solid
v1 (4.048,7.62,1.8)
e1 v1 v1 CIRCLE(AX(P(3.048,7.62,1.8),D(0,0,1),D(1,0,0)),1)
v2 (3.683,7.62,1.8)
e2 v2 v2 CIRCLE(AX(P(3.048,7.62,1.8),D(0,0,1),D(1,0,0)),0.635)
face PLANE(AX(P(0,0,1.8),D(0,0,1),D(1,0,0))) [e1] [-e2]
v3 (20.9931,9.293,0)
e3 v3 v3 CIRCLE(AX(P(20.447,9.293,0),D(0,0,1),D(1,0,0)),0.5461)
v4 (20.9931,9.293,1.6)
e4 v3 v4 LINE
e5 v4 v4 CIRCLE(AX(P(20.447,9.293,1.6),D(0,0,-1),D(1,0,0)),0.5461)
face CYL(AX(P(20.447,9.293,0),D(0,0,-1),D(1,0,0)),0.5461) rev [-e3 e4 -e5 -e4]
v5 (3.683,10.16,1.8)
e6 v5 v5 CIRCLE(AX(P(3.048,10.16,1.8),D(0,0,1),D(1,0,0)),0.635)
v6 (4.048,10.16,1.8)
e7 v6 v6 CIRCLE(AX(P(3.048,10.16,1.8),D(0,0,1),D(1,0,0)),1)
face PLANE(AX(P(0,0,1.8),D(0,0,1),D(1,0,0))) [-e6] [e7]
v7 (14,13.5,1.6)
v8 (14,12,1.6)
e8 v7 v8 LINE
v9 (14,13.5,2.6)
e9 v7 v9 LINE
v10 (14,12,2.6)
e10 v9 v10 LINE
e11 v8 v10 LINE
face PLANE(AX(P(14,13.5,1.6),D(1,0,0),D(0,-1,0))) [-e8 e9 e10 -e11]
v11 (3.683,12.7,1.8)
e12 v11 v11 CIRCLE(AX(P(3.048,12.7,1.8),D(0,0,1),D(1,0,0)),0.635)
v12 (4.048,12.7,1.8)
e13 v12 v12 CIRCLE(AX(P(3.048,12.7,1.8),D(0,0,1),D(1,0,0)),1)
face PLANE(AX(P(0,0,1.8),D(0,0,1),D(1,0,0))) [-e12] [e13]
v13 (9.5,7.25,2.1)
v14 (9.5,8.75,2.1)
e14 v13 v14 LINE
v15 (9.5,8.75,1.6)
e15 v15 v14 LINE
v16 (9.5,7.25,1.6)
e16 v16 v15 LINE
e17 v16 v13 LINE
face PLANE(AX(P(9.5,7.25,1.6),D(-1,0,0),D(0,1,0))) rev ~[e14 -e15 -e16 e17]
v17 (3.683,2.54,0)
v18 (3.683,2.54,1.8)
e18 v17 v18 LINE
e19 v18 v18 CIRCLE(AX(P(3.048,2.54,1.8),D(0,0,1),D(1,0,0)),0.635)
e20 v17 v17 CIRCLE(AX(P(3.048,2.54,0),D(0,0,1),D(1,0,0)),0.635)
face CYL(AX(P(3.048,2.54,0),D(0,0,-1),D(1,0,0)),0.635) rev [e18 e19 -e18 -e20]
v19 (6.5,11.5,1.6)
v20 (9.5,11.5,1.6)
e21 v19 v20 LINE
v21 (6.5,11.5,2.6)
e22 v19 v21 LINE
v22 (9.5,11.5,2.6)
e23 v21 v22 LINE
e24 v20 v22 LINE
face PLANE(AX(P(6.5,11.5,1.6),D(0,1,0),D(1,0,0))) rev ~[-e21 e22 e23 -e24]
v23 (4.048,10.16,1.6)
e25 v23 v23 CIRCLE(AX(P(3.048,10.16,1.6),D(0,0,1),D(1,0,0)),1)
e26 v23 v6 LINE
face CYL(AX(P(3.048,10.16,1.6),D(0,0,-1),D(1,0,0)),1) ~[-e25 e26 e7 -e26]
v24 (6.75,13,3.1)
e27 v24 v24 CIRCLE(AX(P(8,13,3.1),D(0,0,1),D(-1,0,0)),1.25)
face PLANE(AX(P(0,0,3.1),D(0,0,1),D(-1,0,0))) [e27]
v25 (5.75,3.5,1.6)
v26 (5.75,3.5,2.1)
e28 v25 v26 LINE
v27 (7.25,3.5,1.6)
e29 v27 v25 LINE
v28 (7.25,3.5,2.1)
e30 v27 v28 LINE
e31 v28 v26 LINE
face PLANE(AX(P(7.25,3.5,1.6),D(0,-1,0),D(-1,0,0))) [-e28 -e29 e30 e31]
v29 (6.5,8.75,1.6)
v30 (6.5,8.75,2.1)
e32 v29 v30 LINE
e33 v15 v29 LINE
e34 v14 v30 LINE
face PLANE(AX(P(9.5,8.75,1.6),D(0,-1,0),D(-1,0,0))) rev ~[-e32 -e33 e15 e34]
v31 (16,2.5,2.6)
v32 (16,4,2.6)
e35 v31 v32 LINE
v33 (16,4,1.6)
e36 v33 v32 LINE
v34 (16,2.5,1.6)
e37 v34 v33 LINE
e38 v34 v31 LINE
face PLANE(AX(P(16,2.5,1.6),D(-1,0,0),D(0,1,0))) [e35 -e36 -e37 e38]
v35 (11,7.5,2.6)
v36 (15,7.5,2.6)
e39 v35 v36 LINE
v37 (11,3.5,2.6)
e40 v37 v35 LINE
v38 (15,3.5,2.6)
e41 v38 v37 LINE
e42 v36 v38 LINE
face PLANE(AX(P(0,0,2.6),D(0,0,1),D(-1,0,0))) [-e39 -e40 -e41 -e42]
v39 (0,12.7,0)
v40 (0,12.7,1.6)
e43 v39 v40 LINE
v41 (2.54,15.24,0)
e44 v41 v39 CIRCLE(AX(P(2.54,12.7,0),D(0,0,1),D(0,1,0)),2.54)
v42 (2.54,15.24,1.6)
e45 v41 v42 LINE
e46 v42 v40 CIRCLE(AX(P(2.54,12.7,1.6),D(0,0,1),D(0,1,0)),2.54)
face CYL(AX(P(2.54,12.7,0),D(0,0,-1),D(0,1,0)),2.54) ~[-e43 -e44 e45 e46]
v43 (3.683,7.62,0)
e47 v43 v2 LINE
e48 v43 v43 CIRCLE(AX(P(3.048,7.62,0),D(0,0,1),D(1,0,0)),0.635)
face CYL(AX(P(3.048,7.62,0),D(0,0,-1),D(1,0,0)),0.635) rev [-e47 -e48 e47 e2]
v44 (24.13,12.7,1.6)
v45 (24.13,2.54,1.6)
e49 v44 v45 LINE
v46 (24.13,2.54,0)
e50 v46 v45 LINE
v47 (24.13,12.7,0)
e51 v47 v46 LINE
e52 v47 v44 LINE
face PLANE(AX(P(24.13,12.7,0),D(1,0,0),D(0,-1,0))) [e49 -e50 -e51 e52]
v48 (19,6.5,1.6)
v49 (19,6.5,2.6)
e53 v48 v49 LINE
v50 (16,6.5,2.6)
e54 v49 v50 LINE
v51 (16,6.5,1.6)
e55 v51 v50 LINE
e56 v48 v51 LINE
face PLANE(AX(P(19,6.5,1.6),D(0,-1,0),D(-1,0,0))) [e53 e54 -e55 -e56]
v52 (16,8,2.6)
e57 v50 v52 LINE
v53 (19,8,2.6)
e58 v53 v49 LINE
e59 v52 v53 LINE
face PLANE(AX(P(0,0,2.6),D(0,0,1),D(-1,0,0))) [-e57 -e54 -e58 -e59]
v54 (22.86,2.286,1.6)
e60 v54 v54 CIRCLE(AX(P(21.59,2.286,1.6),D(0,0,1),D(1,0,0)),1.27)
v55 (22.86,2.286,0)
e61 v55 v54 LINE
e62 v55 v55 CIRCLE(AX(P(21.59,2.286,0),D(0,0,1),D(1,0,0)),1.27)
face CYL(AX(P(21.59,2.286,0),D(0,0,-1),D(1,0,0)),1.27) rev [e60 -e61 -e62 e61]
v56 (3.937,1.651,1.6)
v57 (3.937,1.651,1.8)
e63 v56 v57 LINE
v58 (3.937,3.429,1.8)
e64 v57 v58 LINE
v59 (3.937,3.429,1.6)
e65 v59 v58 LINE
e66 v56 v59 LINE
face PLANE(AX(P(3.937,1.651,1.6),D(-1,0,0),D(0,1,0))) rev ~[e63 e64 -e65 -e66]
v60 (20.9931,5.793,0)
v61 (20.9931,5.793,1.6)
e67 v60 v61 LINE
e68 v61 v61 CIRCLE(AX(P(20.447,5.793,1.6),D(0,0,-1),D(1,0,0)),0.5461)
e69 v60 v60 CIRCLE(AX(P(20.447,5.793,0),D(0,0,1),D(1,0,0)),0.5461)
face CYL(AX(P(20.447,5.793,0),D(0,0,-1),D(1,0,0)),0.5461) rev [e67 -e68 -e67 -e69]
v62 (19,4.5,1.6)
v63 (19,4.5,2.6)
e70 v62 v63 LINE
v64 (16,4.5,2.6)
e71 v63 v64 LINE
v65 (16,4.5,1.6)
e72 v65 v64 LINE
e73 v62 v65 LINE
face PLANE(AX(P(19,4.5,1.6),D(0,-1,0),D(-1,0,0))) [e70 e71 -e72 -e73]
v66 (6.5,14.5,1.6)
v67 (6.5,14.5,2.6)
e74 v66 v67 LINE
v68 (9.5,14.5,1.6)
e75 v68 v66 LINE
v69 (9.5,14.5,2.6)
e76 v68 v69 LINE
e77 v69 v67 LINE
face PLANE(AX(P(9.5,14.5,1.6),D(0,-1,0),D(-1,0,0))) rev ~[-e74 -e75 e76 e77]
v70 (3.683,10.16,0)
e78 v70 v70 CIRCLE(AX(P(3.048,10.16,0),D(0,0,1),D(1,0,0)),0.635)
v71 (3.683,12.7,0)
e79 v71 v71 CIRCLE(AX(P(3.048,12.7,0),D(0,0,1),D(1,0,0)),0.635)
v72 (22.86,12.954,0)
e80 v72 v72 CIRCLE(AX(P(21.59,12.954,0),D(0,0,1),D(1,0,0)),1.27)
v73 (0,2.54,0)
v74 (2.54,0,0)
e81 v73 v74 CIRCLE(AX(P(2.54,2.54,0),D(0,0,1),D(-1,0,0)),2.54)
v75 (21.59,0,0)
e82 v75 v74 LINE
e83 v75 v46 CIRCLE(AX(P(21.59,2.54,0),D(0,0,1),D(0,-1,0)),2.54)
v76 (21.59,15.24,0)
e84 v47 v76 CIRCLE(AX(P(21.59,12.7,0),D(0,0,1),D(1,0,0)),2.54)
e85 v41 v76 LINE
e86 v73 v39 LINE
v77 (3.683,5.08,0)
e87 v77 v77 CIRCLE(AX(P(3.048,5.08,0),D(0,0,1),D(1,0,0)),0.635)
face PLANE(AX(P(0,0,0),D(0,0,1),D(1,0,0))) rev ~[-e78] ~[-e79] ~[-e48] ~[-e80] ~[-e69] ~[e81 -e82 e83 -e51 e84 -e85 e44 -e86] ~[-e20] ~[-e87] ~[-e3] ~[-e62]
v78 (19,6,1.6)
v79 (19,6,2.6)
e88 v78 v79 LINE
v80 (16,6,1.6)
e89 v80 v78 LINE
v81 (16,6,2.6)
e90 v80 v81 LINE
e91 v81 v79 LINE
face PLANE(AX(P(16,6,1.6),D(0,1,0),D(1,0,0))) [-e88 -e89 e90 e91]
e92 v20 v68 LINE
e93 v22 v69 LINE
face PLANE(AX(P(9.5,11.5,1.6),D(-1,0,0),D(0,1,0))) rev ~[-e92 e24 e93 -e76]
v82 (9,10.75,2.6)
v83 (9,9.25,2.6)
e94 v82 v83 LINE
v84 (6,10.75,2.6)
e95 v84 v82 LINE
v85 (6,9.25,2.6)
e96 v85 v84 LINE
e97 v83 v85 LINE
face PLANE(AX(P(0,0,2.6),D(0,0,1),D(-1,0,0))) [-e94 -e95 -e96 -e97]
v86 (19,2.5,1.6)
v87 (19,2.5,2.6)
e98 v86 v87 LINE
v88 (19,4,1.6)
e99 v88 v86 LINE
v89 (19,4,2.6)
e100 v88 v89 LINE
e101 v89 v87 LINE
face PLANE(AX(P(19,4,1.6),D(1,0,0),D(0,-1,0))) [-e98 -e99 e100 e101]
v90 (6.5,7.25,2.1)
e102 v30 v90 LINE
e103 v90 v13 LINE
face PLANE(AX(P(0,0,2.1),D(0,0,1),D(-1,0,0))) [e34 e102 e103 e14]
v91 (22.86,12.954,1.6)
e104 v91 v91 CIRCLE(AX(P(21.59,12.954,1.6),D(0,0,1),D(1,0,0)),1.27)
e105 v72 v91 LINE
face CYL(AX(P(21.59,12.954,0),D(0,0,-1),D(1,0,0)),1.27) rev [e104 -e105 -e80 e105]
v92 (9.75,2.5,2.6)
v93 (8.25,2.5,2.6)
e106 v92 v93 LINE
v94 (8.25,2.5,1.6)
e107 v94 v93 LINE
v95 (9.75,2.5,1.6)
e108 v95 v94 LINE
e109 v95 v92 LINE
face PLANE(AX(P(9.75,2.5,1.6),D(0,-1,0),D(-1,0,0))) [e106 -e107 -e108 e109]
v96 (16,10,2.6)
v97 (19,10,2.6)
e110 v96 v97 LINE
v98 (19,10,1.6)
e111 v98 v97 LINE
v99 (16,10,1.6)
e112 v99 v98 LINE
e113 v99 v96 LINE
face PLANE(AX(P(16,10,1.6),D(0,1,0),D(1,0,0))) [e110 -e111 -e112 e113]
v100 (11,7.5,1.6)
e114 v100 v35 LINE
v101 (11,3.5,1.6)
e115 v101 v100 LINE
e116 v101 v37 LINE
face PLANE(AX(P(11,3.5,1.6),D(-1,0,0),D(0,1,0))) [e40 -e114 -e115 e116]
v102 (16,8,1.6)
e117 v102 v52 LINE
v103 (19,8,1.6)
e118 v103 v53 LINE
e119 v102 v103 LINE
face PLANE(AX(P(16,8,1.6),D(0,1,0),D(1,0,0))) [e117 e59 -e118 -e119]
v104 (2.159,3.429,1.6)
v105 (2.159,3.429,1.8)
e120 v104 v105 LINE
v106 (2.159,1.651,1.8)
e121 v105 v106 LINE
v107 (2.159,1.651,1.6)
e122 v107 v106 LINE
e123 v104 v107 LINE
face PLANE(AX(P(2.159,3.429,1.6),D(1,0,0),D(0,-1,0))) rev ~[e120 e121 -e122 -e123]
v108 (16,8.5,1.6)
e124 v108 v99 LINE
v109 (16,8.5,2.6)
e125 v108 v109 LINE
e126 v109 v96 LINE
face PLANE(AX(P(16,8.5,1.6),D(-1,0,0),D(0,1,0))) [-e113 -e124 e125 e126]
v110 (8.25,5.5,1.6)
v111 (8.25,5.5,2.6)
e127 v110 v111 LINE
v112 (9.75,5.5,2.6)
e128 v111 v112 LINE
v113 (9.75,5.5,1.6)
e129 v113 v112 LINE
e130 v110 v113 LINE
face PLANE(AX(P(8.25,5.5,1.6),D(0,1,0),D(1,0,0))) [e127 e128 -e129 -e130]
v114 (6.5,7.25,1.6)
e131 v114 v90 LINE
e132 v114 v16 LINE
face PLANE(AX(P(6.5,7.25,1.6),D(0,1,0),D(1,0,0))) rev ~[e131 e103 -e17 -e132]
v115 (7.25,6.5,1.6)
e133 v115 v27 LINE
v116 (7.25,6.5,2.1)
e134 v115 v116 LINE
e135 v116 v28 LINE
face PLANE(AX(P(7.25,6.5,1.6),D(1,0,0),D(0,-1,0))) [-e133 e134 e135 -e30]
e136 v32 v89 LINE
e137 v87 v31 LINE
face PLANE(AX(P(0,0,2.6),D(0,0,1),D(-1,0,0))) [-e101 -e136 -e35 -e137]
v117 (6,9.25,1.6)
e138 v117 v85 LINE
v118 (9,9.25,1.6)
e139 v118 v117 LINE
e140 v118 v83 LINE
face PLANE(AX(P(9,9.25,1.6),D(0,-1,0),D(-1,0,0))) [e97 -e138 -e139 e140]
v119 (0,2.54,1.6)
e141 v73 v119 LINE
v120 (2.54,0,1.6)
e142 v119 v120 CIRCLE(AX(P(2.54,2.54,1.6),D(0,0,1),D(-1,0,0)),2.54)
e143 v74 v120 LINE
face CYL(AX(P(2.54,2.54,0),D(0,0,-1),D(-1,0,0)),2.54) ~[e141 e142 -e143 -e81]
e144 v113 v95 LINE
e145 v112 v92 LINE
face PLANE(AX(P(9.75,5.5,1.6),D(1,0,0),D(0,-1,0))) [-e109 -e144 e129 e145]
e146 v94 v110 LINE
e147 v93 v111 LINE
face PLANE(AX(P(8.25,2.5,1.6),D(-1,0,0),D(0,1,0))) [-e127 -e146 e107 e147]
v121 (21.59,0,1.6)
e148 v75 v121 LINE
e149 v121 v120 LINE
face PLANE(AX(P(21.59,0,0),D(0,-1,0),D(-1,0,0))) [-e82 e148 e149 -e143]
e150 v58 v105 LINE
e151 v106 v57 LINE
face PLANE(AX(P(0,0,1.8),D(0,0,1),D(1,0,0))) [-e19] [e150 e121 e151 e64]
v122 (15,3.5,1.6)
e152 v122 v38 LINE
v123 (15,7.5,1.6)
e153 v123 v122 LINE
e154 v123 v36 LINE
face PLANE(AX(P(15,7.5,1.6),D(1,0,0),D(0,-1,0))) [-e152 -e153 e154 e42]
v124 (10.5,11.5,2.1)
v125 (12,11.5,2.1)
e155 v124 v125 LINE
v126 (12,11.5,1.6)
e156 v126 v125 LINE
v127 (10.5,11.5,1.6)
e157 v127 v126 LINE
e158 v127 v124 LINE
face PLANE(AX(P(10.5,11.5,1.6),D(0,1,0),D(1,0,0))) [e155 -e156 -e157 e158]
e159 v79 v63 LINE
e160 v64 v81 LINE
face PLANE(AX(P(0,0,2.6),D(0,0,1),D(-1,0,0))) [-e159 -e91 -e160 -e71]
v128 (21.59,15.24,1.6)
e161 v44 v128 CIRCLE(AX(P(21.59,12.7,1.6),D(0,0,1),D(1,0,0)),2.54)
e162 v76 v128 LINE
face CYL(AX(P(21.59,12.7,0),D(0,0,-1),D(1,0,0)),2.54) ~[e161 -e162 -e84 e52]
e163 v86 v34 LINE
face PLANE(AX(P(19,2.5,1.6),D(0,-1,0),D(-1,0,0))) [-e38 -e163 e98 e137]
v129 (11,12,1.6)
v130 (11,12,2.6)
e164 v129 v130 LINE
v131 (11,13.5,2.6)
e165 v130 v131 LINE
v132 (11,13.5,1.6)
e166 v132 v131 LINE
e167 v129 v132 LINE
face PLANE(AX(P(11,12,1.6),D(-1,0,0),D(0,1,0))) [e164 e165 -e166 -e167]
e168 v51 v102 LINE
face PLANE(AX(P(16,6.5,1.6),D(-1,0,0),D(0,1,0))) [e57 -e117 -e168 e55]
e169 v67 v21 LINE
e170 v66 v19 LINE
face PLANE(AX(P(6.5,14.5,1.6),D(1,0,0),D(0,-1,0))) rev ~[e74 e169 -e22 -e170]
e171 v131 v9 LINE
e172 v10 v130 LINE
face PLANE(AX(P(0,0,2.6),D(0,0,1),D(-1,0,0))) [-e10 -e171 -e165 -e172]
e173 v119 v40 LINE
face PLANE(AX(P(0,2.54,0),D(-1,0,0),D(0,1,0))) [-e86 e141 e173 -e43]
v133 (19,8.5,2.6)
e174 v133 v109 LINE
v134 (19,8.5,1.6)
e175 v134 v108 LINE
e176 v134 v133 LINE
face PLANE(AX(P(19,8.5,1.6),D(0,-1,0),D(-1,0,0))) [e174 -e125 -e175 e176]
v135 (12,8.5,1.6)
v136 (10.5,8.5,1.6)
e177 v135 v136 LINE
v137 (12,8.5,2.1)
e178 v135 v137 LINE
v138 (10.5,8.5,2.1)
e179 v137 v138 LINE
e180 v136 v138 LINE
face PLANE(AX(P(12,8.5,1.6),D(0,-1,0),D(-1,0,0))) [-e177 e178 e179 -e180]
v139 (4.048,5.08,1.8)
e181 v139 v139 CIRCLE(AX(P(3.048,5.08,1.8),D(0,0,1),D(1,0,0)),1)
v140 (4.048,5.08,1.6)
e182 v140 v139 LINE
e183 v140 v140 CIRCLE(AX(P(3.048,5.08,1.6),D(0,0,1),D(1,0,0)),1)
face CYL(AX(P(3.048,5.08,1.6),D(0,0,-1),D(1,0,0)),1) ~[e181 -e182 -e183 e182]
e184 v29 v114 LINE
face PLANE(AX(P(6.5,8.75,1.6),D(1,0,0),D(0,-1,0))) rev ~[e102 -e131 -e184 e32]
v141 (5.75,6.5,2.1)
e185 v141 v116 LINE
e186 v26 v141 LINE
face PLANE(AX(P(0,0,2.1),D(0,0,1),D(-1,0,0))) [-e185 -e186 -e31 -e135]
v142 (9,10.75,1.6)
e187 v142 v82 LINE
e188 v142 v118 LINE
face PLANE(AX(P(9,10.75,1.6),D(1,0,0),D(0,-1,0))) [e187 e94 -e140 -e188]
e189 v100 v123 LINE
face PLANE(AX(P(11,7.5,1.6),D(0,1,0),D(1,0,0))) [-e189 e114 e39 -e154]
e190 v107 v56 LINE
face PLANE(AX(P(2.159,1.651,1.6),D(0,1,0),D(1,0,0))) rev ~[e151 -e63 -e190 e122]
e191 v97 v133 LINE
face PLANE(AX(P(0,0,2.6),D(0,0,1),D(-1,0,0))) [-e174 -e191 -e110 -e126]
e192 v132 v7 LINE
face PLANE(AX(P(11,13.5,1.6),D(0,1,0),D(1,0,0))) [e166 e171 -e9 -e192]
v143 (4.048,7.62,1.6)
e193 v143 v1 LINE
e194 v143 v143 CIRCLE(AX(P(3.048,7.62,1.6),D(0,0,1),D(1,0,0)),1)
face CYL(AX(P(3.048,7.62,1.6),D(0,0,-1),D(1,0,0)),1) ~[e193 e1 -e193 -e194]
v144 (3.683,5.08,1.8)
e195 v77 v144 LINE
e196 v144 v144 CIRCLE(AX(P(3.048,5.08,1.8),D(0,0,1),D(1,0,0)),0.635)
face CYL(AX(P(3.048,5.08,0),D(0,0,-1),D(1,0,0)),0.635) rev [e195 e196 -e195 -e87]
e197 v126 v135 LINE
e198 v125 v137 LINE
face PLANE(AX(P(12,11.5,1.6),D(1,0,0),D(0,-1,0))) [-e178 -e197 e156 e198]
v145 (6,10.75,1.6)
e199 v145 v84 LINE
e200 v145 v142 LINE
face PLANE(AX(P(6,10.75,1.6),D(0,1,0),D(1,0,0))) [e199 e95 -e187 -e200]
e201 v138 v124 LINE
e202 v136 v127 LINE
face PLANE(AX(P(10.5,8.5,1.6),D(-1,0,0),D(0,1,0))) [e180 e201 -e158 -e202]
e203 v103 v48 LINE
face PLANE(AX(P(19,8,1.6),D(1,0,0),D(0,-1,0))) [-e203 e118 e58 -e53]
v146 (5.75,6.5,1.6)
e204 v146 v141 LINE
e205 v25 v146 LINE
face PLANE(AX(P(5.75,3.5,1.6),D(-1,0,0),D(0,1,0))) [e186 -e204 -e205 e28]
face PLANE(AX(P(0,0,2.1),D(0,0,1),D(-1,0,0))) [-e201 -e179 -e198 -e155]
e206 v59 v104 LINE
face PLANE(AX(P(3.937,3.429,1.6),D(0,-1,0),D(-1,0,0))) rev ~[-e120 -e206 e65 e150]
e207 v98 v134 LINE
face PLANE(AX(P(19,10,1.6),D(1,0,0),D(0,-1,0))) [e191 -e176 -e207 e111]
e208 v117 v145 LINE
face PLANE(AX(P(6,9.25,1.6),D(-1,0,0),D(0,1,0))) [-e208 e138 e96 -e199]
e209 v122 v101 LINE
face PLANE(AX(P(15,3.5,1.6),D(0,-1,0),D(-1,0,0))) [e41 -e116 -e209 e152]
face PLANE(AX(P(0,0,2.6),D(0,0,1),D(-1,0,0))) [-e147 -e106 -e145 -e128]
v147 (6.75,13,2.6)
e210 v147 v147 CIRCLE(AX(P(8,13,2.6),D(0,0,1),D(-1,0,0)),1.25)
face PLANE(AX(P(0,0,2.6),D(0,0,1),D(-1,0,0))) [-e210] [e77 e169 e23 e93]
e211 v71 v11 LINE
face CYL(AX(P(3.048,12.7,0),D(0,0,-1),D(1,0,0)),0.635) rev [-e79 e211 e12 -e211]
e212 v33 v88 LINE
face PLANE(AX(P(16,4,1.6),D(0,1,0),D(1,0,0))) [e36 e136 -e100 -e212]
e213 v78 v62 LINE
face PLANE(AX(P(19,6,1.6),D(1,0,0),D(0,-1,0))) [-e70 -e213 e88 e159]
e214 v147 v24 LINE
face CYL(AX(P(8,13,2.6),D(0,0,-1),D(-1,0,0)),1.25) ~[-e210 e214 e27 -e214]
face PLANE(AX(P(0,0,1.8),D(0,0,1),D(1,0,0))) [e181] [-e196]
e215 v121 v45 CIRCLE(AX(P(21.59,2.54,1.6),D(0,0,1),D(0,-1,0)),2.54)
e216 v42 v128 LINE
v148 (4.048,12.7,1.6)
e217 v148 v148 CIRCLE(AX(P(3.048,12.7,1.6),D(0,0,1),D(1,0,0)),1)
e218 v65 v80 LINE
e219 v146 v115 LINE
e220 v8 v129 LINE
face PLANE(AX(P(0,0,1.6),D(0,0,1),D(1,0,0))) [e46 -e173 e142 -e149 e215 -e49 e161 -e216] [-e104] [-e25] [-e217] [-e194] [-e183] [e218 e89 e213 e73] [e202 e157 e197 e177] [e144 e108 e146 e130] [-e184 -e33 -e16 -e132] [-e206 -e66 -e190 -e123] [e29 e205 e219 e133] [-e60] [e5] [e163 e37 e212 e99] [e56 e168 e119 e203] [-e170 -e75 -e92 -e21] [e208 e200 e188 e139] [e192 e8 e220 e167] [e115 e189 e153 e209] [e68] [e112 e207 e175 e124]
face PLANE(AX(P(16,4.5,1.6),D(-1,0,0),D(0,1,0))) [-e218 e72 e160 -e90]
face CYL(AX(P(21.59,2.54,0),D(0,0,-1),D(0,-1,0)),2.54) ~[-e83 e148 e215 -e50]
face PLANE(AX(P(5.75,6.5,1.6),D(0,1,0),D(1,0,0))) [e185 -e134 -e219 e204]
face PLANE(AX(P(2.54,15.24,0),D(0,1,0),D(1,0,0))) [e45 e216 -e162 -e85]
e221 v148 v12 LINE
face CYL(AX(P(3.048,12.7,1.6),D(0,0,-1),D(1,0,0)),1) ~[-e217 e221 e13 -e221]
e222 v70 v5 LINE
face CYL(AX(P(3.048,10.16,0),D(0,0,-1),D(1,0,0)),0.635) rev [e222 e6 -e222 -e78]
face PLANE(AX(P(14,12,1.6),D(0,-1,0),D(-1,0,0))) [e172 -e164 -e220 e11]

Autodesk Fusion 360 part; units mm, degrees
sketch "Sketch1" plane through (0, 0, 0) normal (0, 0, 1) x (1, 0, 0)
  arc A0 (21.59, 0) -> (24.13, 2.54) centre (21.59, 2.54) ccw
  arc A1 (0, 2.54) -> (2.54, 0) centre (2.54, 2.54) ccw
  line L0 (21.59, 0) -> (2.54, 0)
  arc A2 (2.54, 15.24) -> (0, 12.7) centre (2.54, 12.7) ccw
  line L1 (24.13, 12.7) -> (24.13, 2.54)
  line L2 (0, 2.54) -> (0, 12.7)
  line L3 (2.54, 15.24) -> (21.59, 15.24)
  arc A3 (24.13, 12.7) -> (21.59, 15.24) centre (21.59, 12.7) ccw
  arc A4 (20.9931, 9.293) -> (19.9009, 9.293) centre (20.447, 9.293) ccw
  line L4 (2.159, 1.651) -> (3.937, 1.651)
  line L5 (3.937, 1.651) -> (3.937, 3.429)
  line L6 (2.159, 1.651) -> (3.937, 1.651)
  line L7 (3.937, 1.651) -> (3.937, 3.429)
  line L8 (3.937, 3.429) -> (2.159, 3.429)
  arc A5 (20.9931, 5.793) -> (19.9009, 5.793) centre (20.447, 5.793) ccw
  arc A6 (19.9009, 9.293) -> (20.9931, 9.293) centre (20.447, 9.293) ccw
  arc A7 (19.9009, 9.293) -> (20.9931, 9.293) centre (20.447, 9.293) ccw
  line L9 (2.159, 3.429) -> (2.159, 1.651)
  line L10 (2.159, 3.429) -> (2.159, 1.651)
  arc A8 (20.9931, 9.293) -> (19.9009, 9.293) centre (20.447, 9.293) ccw
  arc A9 (19.9009, 5.793) -> (20.9931, 5.793) centre (20.447, 5.793) ccw
  arc A10 (20.9931, 5.793) -> (19.9009, 5.793) centre (20.447, 5.793) ccw
  line L11 (3.937, 3.429) -> (2.159, 3.429)
  arc A11 (19.9009, 5.793) -> (20.9931, 5.793) centre (20.447, 5.793) ccw
  circle A12 centre (21.59, 2.286) radius 1.27
  circle A13 centre (21.59, 12.954) radius 1.27
  circle A14 centre (3.048, 2.54) radius 0.635
  circle A15 centre (3.048, 5.08) radius 0.635
  circle A16 centre (3.048, 7.62) radius 0.635
  circle A17 centre (3.048, 10.16) radius 0.635
  circle A18 centre (3.048, 12.7) radius 0.635
  circle A19 centre (3.048, 5.08) radius 1
  circle A20 centre (3.048, 7.62) radius 1
  circle A21 centre (3.048, 10.16) radius 1
  circle A22 centre (3.048, 12.7) radius 1
  dimension "d1" = 2.54
  dimension "d2" = 2.54
  dimension "d5" = 1.27
  dimension "d8" = 0
  dimension "d9" = 2.54
  dimension "d10" = 2
  dimension "d13" = 0
  dimension "d14" = 2.54
extrude "Extrude1" add sketch "Sketch1" along normal blind 1.6 contours A0 A1 L0 A2 L1 L2 L3 A3 | L4 L5 L6 L7 L8 L9 L10 L11 | A19 | A20 | A21 | A22
extrude "Extrude2" add sketch "Sketch1" along normal blind 0.2 from surface at 1.6 contours L4 L5 L6 L7 L8 L9 L10 L11 | A19 | A20 | A21 | A22
sketch "Sketch2" plane through (0, 0, 1.6) normal (0, 0, 1) x (-1, 0, 0)
  circle A0 centre (-3.048, -12.7) radius 1
  line L0 (-3.937, -1.651) -> (-2.159, -1.651)
  line L1 (-2.159, -1.651) -> (-2.159, -3.429)
  line L2 (-2.159, -3.429) -> (-3.937, -3.429)
  line L3 (-3.937, -3.429) -> (-3.937, -1.651)
  circle A1 centre (-3.048, -10.16) radius 1
  circle A2 centre (-3.048, -5.08) radius 1
  circle A3 centre (-3.048, -7.62) radius 1
  circle A4 centre (-21.59, -2.286) radius 1.27
  circle A5 centre (-20.447, -9.293) radius 0.5461
  circle A6 centre (-21.59, -12.954) radius 1.27
  circle A7 centre (-20.447, -5.793) radius 0.5461
  arc A8 (-21.59, 0) -> (-24.13, -2.54) centre (-21.59, -2.54) ccw
  line L4 (-24.13, -2.54) -> (-24.13, -12.7)
  arc A9 (-24.13, -12.7) -> (-21.59, -15.24) centre (-21.59, -12.7) ccw
  line L5 (-21.59, -15.24) -> (-2.54, -15.24)
  arc A10 (-2.54, -15.24) -> (0, -12.7) centre (-2.54, -12.7) ccw
  line L6 (0, -12.7) -> (0, -2.54)
  arc A11 (0, -2.54) -> (-2.54, 0) centre (-2.54, -2.54) ccw
  line L7 (-2.54, 0) -> (-21.59, 0)
  line L8 (-7.25, -3.5) -> (-5.75, -3.5)
  line L9 (-5.75, -3.5) -> (-5.75, -6.5)
  line L10 (-5.75, -6.5) -> (-7.25, -6.5)
  line L11 (-7.25, -6.5) -> (-7.25, -3.5)
  line L12 (-7.25, -3.5) -> (-5.75, -6.5) construction
  line L13 (-5.75, -3.5) -> (-7.25, -6.5) construction
  line L14 (-9.75, -2.5) -> (-8.25, -2.5)
  line L15 (-8.25, -2.5) -> (-8.25, -5.5)
  line L16 (-8.25, -5.5) -> (-9.75, -5.5)
  line L17 (-9.75, -5.5) -> (-9.75, -2.5)
  line L18 (-9.75, -2.5) -> (-8.25, -5.5) construction
  line L19 (-8.25, -2.5) -> (-9.75, -5.5) construction
  line L20 (-15, -3.5) -> (-11, -3.5)
  line L21 (-11, -3.5) -> (-11, -7.5)
  line L22 (-11, -7.5) -> (-15, -7.5)
  line L23 (-15, -7.5) -> (-15, -3.5)
  line L24 (-15, -3.5) -> (-11, -7.5) construction
  line L25 (-11, -3.5) -> (-15, -7.5) construction
  line L26 (-9, -9.25) -> (-6, -9.25)
  line L27 (-6, -9.25) -> (-6, -10.75)
  line L28 (-6, -10.75) -> (-9, -10.75)
  line L29 (-9, -10.75) -> (-9, -9.25)
  line L30 (-9, -9.25) -> (-6, -10.75) construction
  line L31 (-6, -9.25) -> (-9, -10.75) construction
  line L32 (-6.5, -7.25) -> (-9.5, -7.25)
  line L33 (-9.5, -7.25) -> (-9.5, -8.75)
  line L34 (-9.5, -8.75) -> (-6.5, -8.75)
  line L35 (-6.5, -8.75) -> (-6.5, -7.25)
  line L36 (-6.5, -7.25) -> (-9.5, -8.75) construction
  line L37 (-9.5, -7.25) -> (-6.5, -8.75) construction
  circle A12 centre (-8, -13) radius 1.25
  line L38 (-14, -12) -> (-11, -12)
  line L39 (-11, -12) -> (-11, -13.5)
  line L40 (-11, -13.5) -> (-14, -13.5)
  line L41 (-14, -13.5) -> (-14, -12)
  line L42 (-14, -12) -> (-11, -13.5) construction
  line L43 (-11, -12) -> (-14, -13.5) construction
  line L44 (-12, -8.5) -> (-10.5, -8.5)
  line L45 (-10.5, -8.5) -> (-10.5, -11.5)
  line L46 (-10.5, -11.5) -> (-12, -11.5)
  line L47 (-12, -11.5) -> (-12, -8.5)
  line L48 (-12, -8.5) -> (-10.5, -11.5) construction
  line L49 (-10.5, -8.5) -> (-12, -11.5) construction
  line L50 (-19, -2.5) -> (-16, -2.5)
  line L51 (-16, -2.5) -> (-16, -4)
  line L52 (-16, -4) -> (-19, -4)
  line L53 (-19, -4) -> (-19, -2.5)
  line L54 (-19, -2.5) -> (-16, -4) construction
  line L55 (-16, -2.5) -> (-19, -4) construction
  line L56 (-19, -6) -> (-19, -4.5)
  line L57 (-19, -4.5) -> (-16, -4.5)
  line L58 (-16, -4.5) -> (-16, -6)
  line L59 (-16, -6) -> (-19, -6)
  line L60 (-19, -8) -> (-19, -6.5)
  line L61 (-19, -6.5) -> (-16, -6.5)
  line L62 (-16, -6.5) -> (-16, -8)
  line L63 (-16, -8) -> (-19, -8)
  line L64 (-19, -10) -> (-19, -8.5)
  line L65 (-19, -8.5) -> (-16, -8.5)
  line L66 (-16, -8.5) -> (-16, -10)
  line L67 (-16, -10) -> (-19, -10)
  line L68 (-6.5, -11.5) -> (-9.5, -11.5)
  line L69 (-9.5, -11.5) -> (-9.5, -14.5)
  line L70 (-9.5, -14.5) -> (-6.5, -14.5)
  line L71 (-6.5, -14.5) -> (-6.5, -11.5)
  line L72 (-6.5, -11.5) -> (-9.5, -14.5) construction
  line L73 (-9.5, -11.5) -> (-6.5, -14.5) construction
  point P0 (-6.5, -5)
  point P1 (-9, -4)
  point P2 (-13, -5.5)
  point P3 (-7.5, -10)
  point P4 (-8, -8)
  point P5 (-12.5, -12.75)
  point P6 (-11.25, -10)
  point P7 (-17.5, -3.25)
  point P8 (-8, -13)
  dimension "d18" = 1.5
  dimension "d19" = 3
  dimension "d20" = 1.5
  dimension "d21" = 3
  dimension "d22" = 4
  dimension "d23" = 4
  dimension "d24" = 3
  dimension "d25" = 1.5
  dimension "d26" = 3
  dimension "d27" = 1.5
  dimension "d28" = 2.5
  dimension "d29" = 1.5
  dimension "d30" = 3
  dimension "d31" = 3
  dimension "d32" = 1.5
  dimension "d33" = 3
  dimension "d34" = 1.5
  dimension "d37" = 0
  dimension "d38" = -2
  dimension "d43" = 3
  dimension "d44" = 3
extrude "Extrude3" add sketch "Sketch2" along normal blind 0.5 contours L8 L9 L10 L11 | L32 L33 L34 L35 | L44 L45 L46 L47
extrude "Extrude4" add sketch "Sketch2" along normal blind 1 contours L14 L15 L16 L17 | L20 L21 L22 L23 | L26 L27 L28 L29 | L38 L39 L40 L41 | L50 L51 L52 L53 | L56 L57 L58 L59 | L60 L61 L62 L63 | L64 L65 L66 L67
extrude "Extrude5" add sketch "Sketch2" along normal blind 1 contours A12 | L68 L69 L70 L71
extrude "Extrude6" add sketch "Sketch2" along normal blind 0.5 from surface at 1 contours A12
